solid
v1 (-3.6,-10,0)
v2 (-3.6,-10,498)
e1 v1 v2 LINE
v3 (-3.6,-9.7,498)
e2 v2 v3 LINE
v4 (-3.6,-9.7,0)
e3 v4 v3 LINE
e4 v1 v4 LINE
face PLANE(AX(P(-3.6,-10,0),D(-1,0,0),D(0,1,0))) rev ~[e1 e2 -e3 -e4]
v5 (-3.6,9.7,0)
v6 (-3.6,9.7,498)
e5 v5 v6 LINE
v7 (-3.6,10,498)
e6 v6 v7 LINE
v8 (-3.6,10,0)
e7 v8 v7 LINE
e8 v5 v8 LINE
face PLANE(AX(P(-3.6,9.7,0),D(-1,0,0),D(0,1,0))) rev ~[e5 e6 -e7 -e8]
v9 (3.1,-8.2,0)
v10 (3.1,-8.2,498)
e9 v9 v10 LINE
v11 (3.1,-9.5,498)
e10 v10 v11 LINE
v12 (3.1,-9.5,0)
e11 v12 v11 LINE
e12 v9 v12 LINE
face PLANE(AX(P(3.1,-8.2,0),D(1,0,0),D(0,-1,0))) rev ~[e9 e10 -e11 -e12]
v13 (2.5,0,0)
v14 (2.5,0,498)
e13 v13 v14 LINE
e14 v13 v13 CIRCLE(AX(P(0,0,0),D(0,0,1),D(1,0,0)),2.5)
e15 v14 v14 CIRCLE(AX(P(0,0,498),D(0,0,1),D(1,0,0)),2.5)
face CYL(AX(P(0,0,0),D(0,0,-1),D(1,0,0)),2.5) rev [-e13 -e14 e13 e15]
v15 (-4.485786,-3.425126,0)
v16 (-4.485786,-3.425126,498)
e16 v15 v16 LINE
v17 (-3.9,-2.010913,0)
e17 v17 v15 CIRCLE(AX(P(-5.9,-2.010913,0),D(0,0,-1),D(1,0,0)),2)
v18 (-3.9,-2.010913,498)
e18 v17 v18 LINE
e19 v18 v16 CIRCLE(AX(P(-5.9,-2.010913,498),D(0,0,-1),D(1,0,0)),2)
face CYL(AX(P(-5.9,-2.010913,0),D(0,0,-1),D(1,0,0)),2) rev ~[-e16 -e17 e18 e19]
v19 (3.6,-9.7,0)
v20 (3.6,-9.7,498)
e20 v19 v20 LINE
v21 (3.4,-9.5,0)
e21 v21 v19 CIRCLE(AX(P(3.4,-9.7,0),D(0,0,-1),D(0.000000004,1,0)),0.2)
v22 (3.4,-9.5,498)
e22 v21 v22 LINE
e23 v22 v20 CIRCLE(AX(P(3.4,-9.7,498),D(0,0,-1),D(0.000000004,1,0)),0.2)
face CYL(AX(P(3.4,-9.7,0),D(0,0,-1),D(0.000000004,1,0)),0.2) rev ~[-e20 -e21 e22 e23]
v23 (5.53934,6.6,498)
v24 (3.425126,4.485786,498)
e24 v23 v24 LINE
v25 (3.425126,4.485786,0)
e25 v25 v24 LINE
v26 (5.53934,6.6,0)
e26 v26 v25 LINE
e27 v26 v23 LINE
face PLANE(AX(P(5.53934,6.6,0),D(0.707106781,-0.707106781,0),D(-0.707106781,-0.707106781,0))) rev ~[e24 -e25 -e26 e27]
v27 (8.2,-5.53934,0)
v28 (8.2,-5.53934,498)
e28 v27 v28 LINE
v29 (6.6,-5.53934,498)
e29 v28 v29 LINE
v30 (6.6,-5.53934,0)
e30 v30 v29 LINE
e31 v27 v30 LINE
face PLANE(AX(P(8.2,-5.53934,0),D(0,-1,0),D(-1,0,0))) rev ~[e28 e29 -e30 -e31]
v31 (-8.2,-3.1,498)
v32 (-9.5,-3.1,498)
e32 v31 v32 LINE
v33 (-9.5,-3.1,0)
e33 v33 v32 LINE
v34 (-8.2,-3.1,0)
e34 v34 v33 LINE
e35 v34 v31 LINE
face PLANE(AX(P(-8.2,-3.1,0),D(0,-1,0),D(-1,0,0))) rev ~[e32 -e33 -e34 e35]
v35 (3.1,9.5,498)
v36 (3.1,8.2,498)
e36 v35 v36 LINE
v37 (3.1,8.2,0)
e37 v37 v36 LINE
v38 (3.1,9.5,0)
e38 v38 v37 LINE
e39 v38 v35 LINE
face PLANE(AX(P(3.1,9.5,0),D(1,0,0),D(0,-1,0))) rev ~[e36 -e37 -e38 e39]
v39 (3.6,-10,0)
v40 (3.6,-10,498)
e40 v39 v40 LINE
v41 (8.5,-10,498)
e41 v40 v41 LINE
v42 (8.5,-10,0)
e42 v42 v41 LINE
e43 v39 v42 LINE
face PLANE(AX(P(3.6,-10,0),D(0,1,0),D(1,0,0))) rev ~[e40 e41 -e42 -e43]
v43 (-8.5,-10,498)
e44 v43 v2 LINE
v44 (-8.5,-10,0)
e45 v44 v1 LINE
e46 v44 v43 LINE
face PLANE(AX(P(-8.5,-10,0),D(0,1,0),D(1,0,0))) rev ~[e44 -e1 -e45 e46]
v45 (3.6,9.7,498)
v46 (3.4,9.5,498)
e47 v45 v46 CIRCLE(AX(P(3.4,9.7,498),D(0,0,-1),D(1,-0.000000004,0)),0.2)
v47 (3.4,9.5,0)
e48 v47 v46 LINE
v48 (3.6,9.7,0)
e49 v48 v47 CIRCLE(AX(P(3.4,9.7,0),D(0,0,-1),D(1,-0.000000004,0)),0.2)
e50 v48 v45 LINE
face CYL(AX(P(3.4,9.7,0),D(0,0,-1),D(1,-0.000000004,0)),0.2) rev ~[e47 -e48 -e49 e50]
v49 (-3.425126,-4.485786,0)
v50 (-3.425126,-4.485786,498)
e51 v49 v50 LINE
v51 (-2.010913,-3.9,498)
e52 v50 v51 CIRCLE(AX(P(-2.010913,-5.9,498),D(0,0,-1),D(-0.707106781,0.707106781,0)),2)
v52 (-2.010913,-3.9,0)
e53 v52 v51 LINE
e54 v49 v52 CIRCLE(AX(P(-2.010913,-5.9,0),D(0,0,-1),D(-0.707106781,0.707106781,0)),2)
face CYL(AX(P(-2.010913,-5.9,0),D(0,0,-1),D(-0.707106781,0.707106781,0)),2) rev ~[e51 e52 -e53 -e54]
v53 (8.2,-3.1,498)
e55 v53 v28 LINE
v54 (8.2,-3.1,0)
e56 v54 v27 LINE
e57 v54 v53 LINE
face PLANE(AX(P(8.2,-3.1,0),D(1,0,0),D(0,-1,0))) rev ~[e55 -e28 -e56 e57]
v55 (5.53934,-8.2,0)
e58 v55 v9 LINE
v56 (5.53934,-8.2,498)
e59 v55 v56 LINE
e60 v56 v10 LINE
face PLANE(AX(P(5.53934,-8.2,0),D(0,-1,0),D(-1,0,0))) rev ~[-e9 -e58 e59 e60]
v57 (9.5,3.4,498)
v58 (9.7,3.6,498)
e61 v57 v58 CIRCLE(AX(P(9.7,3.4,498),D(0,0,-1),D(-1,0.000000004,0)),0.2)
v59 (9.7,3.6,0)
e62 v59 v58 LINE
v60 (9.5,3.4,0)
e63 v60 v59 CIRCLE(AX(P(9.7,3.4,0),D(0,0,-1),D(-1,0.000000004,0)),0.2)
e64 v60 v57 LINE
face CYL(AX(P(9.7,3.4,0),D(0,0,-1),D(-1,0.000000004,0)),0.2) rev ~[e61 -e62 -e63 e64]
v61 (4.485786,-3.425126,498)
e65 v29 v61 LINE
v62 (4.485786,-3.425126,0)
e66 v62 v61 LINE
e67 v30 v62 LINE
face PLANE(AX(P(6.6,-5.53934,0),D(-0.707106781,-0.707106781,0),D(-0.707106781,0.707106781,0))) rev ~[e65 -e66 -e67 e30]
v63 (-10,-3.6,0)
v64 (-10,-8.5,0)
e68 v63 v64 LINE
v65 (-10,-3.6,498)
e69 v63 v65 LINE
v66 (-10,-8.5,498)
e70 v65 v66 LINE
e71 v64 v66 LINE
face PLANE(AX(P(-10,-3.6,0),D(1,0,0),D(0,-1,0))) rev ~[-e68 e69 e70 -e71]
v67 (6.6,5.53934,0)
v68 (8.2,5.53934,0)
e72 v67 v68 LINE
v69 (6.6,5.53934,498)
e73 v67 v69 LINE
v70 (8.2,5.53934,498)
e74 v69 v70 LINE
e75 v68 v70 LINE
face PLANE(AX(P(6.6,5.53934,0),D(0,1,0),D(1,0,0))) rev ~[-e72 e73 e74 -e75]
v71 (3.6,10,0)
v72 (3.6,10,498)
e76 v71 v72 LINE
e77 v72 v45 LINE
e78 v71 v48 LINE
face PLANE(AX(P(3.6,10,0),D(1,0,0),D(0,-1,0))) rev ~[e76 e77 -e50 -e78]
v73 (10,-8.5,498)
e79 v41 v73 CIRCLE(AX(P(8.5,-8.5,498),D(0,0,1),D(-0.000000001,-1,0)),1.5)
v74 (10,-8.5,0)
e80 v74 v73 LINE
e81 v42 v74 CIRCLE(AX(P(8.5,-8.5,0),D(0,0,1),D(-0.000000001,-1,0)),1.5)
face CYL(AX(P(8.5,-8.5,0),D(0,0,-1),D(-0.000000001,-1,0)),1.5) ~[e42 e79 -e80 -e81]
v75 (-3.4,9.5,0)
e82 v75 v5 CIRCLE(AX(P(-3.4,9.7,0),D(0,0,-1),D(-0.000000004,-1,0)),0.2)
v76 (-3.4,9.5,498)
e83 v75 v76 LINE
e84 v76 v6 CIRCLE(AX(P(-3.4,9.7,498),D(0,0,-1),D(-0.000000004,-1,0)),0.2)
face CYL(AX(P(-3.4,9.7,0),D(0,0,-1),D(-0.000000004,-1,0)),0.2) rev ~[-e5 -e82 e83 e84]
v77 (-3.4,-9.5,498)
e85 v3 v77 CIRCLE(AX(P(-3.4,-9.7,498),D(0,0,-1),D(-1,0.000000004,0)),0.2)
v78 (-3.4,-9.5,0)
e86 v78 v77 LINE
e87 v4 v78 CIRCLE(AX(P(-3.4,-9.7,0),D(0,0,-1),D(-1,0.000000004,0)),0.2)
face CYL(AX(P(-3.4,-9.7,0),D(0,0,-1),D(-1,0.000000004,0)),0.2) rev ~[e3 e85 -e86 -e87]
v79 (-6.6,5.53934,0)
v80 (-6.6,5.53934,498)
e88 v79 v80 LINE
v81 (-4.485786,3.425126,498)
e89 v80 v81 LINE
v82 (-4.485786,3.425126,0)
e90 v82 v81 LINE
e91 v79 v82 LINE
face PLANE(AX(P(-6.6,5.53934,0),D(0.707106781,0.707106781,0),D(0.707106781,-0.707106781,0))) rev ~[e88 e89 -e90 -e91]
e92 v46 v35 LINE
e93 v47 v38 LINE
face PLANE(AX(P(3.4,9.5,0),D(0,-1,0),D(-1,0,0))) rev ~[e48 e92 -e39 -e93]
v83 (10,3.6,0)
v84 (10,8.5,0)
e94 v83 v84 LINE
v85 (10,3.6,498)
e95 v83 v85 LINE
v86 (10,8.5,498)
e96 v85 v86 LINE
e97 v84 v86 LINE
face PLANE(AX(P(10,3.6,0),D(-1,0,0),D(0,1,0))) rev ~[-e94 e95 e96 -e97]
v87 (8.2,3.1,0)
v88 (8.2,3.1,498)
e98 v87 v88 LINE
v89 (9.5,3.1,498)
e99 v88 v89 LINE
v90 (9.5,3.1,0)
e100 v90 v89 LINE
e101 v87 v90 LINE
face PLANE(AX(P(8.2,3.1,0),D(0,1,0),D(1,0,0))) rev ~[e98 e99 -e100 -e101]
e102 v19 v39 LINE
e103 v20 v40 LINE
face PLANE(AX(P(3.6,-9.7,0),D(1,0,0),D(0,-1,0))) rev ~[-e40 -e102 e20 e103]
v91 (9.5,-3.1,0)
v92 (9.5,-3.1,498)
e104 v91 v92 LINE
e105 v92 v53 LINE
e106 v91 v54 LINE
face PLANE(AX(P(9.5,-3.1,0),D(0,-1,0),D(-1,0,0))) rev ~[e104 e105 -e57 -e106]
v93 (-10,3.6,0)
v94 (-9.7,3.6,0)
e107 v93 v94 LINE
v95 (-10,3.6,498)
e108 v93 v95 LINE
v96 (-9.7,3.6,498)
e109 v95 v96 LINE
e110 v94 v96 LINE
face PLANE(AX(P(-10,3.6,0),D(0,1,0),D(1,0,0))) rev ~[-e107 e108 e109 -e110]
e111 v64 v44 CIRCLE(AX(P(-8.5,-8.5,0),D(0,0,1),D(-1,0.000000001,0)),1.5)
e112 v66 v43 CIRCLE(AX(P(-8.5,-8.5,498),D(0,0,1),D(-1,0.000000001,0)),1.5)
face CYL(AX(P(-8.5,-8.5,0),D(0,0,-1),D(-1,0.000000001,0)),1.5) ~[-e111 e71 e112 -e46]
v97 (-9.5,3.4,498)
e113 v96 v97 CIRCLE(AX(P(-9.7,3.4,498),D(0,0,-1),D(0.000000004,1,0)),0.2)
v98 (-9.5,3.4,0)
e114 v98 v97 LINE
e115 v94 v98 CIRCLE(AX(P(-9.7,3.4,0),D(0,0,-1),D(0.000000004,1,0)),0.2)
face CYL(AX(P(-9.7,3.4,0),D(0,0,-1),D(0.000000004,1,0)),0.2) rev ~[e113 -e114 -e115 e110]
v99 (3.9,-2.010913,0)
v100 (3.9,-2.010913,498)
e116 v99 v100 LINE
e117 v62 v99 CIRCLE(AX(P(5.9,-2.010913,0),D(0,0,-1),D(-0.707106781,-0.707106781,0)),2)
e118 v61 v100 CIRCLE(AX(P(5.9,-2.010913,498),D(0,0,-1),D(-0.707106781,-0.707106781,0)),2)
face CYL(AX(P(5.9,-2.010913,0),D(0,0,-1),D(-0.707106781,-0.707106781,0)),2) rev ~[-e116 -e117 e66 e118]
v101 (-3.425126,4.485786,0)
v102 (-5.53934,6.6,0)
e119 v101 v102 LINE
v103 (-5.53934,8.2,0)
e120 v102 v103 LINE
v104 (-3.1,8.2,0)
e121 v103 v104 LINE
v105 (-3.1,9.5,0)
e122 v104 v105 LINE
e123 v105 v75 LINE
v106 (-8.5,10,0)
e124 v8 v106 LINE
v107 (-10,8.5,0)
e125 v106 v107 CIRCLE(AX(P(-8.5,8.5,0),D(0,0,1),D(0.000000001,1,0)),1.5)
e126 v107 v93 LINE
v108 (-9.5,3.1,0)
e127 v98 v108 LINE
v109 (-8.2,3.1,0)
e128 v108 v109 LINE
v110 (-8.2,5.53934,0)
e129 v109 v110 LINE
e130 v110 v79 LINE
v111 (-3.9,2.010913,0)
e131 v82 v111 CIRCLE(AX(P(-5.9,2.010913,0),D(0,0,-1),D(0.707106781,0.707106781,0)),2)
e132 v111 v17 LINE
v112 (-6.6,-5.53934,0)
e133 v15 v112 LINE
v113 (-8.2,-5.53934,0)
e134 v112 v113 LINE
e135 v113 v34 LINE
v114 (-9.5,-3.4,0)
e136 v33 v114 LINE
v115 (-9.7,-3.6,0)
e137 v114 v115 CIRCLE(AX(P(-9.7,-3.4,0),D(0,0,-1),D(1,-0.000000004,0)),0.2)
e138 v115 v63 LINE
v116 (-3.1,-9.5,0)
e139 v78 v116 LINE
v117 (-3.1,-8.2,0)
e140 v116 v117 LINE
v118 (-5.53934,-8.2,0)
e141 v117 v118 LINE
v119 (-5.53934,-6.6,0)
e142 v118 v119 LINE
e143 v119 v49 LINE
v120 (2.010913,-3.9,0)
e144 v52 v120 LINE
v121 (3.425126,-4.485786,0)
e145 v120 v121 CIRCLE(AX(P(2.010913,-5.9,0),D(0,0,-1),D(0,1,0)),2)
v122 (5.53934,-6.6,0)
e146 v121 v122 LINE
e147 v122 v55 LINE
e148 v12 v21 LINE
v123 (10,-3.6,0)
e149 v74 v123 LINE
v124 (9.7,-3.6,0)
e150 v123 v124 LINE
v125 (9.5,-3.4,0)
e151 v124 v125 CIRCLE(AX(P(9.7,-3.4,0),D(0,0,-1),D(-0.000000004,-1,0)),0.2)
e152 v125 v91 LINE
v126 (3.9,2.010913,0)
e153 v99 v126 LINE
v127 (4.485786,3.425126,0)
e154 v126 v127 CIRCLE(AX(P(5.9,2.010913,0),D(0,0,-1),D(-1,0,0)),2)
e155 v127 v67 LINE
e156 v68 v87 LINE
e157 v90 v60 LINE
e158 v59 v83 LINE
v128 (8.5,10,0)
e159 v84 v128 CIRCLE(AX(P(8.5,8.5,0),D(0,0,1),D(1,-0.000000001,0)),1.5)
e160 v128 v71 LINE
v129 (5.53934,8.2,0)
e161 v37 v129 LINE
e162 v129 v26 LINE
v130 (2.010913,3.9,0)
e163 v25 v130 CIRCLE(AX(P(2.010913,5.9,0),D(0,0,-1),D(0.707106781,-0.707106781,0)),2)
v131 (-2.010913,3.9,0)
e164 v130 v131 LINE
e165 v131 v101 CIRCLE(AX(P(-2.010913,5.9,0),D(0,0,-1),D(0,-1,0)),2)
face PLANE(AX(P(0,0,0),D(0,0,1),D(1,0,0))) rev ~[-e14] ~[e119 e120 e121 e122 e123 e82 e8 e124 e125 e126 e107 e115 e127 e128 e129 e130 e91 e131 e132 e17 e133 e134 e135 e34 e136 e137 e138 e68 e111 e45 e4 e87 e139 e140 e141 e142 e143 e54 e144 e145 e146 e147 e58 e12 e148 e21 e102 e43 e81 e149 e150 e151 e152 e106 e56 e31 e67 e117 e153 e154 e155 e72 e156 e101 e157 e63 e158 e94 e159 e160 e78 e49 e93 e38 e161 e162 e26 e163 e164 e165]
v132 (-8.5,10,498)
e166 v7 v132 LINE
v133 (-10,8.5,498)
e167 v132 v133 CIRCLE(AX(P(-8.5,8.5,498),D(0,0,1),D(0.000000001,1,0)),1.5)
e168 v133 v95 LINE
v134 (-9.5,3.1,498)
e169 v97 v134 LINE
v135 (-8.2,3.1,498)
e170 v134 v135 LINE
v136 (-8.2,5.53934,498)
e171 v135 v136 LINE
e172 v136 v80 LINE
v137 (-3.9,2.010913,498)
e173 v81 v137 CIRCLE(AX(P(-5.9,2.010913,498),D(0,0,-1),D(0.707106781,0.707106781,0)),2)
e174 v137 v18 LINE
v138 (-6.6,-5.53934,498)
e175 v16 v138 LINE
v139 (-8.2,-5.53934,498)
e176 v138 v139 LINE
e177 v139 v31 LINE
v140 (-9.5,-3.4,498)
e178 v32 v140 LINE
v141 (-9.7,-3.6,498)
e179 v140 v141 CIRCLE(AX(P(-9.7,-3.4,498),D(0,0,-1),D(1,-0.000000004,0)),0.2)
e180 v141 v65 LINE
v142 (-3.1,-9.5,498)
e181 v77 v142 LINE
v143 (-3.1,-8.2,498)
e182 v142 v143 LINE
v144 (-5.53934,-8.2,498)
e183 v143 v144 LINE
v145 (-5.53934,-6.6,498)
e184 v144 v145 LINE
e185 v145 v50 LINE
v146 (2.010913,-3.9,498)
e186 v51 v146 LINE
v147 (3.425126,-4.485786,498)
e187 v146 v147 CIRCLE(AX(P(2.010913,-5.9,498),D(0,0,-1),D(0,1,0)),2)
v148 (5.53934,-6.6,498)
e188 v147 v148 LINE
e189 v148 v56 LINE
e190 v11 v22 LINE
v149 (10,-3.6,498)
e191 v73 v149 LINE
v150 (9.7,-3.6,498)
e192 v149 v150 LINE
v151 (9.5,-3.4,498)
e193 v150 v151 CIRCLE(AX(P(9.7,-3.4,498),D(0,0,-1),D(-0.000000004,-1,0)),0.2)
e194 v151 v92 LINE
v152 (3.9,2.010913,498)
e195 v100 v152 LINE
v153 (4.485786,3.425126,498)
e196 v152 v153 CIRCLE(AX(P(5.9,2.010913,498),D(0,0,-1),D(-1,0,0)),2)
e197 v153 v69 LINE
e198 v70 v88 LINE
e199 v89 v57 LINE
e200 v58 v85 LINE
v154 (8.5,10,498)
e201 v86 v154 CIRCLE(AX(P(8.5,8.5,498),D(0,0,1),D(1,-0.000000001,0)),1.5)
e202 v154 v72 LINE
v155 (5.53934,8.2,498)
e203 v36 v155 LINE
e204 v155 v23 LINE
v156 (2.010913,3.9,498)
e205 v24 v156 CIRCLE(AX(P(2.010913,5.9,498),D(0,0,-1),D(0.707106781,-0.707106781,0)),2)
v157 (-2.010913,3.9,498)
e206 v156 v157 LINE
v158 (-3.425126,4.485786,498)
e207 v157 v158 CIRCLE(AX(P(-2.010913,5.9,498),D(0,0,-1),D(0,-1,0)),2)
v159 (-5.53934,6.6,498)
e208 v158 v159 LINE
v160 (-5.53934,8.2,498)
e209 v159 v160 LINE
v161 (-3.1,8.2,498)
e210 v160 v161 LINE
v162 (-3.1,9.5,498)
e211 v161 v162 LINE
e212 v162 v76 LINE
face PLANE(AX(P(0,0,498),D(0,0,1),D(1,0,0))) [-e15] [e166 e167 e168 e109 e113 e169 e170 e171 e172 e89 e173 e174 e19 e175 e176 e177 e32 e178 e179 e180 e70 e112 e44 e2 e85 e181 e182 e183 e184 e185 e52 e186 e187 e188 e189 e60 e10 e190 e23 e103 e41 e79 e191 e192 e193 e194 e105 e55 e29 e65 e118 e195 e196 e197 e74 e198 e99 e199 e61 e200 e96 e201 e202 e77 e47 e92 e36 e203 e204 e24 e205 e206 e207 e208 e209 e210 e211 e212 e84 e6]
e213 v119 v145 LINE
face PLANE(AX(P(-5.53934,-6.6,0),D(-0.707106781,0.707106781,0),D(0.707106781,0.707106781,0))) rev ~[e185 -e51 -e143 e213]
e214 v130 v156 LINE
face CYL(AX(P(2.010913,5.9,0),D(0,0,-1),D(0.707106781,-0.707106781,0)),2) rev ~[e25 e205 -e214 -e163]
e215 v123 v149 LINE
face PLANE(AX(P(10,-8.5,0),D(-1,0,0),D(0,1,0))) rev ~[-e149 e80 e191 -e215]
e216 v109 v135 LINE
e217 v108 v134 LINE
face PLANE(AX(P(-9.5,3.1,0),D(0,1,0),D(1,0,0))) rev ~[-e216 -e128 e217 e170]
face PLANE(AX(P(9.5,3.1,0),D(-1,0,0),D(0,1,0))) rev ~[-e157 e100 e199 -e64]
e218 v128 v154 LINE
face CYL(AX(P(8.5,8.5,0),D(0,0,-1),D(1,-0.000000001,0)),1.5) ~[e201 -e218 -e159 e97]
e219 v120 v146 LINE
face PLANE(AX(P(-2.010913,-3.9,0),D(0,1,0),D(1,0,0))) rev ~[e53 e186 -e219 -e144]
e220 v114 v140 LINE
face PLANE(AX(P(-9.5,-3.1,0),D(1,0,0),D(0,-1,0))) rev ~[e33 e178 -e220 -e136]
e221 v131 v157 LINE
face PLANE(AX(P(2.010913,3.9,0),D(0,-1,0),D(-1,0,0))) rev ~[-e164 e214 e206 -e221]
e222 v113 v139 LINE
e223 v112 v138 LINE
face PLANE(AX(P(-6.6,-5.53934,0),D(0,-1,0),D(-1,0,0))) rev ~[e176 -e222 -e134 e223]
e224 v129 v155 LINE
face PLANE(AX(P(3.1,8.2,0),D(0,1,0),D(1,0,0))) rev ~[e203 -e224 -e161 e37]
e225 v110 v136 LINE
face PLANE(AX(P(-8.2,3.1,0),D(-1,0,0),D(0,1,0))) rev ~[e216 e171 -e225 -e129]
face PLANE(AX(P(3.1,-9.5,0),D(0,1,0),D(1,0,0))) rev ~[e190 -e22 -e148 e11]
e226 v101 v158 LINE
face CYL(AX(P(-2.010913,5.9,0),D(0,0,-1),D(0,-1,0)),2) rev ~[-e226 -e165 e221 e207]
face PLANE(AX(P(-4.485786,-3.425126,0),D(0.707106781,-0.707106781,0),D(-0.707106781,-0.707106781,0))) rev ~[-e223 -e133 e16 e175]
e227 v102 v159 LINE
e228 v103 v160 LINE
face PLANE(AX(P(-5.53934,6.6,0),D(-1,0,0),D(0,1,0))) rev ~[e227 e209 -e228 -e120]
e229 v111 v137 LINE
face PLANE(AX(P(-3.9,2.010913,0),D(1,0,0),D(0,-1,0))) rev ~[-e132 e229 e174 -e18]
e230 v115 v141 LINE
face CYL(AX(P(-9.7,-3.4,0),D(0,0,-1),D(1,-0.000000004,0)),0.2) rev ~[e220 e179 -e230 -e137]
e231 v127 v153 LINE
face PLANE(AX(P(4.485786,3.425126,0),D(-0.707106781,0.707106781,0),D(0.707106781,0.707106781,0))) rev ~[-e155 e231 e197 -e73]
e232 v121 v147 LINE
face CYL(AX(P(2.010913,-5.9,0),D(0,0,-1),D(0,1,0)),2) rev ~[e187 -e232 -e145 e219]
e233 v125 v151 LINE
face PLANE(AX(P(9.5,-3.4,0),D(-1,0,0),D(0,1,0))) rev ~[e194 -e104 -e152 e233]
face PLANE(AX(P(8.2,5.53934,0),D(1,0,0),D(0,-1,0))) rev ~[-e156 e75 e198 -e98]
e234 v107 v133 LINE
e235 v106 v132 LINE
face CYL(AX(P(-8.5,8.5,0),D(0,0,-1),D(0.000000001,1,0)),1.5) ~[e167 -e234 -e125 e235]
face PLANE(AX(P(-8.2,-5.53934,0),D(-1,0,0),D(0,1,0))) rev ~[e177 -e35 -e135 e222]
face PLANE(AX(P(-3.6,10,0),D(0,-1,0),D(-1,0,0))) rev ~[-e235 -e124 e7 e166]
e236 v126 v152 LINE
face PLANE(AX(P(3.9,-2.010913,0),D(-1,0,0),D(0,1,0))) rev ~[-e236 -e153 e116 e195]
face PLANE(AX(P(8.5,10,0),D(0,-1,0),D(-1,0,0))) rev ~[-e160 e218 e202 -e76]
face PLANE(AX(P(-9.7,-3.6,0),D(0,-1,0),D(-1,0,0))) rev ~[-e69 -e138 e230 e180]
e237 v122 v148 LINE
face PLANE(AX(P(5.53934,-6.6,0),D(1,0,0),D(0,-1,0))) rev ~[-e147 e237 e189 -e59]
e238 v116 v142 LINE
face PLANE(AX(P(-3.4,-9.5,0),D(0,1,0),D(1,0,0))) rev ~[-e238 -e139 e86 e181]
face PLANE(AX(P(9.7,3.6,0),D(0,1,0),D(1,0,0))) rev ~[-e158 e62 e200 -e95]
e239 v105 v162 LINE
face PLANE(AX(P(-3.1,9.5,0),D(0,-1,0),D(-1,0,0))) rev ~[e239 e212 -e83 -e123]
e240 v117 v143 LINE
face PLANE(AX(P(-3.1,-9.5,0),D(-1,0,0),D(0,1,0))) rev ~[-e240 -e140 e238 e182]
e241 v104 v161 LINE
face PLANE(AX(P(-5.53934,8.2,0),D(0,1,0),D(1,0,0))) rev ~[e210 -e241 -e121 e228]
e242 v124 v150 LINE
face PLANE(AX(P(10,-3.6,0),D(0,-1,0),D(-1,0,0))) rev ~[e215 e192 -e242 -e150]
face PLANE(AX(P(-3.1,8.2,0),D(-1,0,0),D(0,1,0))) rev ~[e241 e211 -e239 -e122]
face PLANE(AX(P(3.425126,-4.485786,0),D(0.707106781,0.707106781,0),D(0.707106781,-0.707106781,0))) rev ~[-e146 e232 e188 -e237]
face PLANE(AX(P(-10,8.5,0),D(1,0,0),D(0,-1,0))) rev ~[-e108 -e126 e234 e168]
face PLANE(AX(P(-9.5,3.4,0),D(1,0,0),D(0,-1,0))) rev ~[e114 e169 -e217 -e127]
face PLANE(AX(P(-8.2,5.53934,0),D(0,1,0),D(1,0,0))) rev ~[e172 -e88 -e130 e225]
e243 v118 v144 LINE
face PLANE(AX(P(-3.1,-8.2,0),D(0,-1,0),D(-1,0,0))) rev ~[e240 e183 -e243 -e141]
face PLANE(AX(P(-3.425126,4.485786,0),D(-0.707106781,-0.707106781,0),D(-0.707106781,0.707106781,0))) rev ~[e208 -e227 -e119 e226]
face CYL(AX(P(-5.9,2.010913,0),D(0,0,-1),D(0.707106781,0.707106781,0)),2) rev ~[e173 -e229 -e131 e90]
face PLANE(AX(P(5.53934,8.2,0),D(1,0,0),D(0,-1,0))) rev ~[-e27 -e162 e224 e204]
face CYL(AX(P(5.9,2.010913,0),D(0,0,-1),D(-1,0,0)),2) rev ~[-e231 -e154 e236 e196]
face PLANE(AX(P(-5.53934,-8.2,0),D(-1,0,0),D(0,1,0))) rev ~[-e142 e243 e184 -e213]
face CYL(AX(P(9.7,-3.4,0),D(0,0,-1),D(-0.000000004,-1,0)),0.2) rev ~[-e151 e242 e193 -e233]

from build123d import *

# Parameters (mm, degrees)
SKETCH1_R      = 2.5
EXTRUDE1_DEPTH = 498


with BuildPart() as part:
    # Sketch1 → Extrude1 (new body)
    with BuildSketch(Plane.XY):
        with BuildLine():
            Line((0, 3.9), (-2.010912703, 3.9))
            ThreePointArc((-2.010912703, 3.9), (-2.776279568, 4.052240935), (-3.425126266, 4.485786438))
            Line((-3.425126266, 4.485786438), (-5.539339828, 6.6))
            Line((-5.539339828, 6.6), (-5.539339828, 8.2))
            Line((-5.539339828, 8.2), (-3.1, 8.2))
            Line((-3.1, 8.2), (-3.1, 9.5))
            Line((-3.1, 9.5), (-3.4, 9.5))
            ThreePointArc((-3.4, 9.5), (-3.541421356, 9.558578644), (-3.6, 9.7))
            Line((-3.6, 9.7), (-3.6, 10))
            Line((-3.6, 10), (-8.5, 10))
            ThreePointArc((-8.5, 10), (-9.560660172, 9.560660172), (-10, 8.5))
            Line((-10, 8.5), (-10, 3.6))
            Line((-10, 3.6), (-9.7, 3.6))
            ThreePointArc((-9.7, 3.6), (-9.558578644, 3.541421356), (-9.5, 3.4))
            Line((-9.5, 3.4), (-9.5, 3.1))
            Line((-9.5, 3.1), (-8.2, 3.1))
            Line((-8.2, 3.1), (-8.2, 5.539339828))
            Line((-8.2, 5.539339828), (-6.6, 5.539339828))
            Line((-6.6, 5.539339828), (-4.485786438, 3.425126266))
            ThreePointArc((-4.485786438, 3.425126266), (-4.052240935, 2.776279568), (-3.9, 2.010912703))
            Line((-3.9, 2.010912703), (-3.9, 0))
            Line((-3.9, 0), (-3.9, -2.010912703))
            ThreePointArc((-3.9, -2.010912703), (-4.052240935, -2.776279568), (-4.485786438, -3.425126266))
            Line((-4.485786438, -3.425126266), (-6.6, -5.539339828))
            Line((-6.6, -5.539339828), (-8.2, -5.539339828))
            Line((-8.2, -5.539339828), (-8.2, -3.1))
            Line((-8.2, -3.1), (-9.5, -3.1))
            Line((-9.5, -3.1), (-9.5, -3.4))
            ThreePointArc((-9.5, -3.4), (-9.558578644, -3.541421356), (-9.7, -3.6))
            Line((-9.7, -3.6), (-10, -3.6))
            Line((-10, -3.6), (-10, -8.5))
            ThreePointArc((-10, -8.5), (-9.560660172, -9.560660172), (-8.5, -10))
            Line((-8.5, -10), (-3.6, -10))
            Line((-3.6, -10), (-3.6, -9.7))
            ThreePointArc((-3.6, -9.7), (-3.541421356, -9.558578644), (-3.4, -9.5))
            Line((-3.4, -9.5), (-3.1, -9.5))
            Line((-3.1, -9.5), (-3.1, -8.2))
            Line((-3.1, -8.2), (-5.539339828, -8.2))
            Line((-5.539339828, -8.2), (-5.539339828, -6.6))
            Line((-5.539339828, -6.6), (-3.425126266, -4.485786438))
            ThreePointArc((-3.425126266, -4.485786438), (-2.776279568, -4.052240935), (-2.010912703, -3.9))
            Line((-2.010912703, -3.9), (0, -3.9))
            Line((0, -3.9), (2.010912703, -3.9))
            ThreePointArc((2.010912703, -3.9), (2.776279568, -4.052240935), (3.425126266, -4.485786438))
            Line((3.425126266, -4.485786438), (5.539339828, -6.6))
            Line((5.539339828, -6.6), (5.539339828, -8.2))
            Line((5.539339828, -8.2), (3.1, -8.2))
            Line((3.1, -8.2), (3.1, -9.5))
            Line((3.1, -9.5), (3.4, -9.5))
            ThreePointArc((3.4, -9.5), (3.541421356, -9.558578644), (3.6, -9.7))
            Line((3.6, -9.7), (3.6, -10))
            Line((3.6, -10), (8.5, -10))
            ThreePointArc((8.5, -10), (9.560660172, -9.560660172), (10, -8.5))
            Line((10, -8.5), (10, -3.6))
            Line((10, -3.6), (9.7, -3.6))
            ThreePointArc((9.7, -3.6), (9.558578644, -3.541421356), (9.5, -3.4))
            Line((9.5, -3.4), (9.5, -3.1))
            Line((9.5, -3.1), (8.2, -3.1))
            Line((8.2, -3.1), (8.2, -5.539339828))
            Line((8.2, -5.539339828), (6.6, -5.539339828))
            Line((6.6, -5.539339828), (4.485786438, -3.425126266))
            ThreePointArc((4.485786438, -3.425126266), (4.052240935, -2.776279568), (3.9, -2.010912703))
            Line((3.9, -2.010912703), (3.9, 0))
            Line((3.9, 0), (3.9, 2.010912703))
            ThreePointArc((3.9, 2.010912703), (4.052240935, 2.776279568), (4.485786438, 3.425126266))
            Line((4.485786438, 3.425126266), (6.6, 5.539339828))
            Line((6.6, 5.539339828), (8.2, 5.539339828))
            Line((8.2, 5.539339828), (8.2, 3.1))
            Line((8.2, 3.1), (9.5, 3.1))
            Line((9.5, 3.1), (9.5, 3.4))
            ThreePointArc((9.5, 3.4), (9.558578644, 3.541421356), (9.7, 3.6))
            Line((9.7, 3.6), (10, 3.6))
            Line((10, 3.6), (10, 8.5))
            ThreePointArc((10, 8.5), (9.560660172, 9.560660172), (8.5, 10))
            Line((8.5, 10), (3.6, 10))
            Line((3.6, 10), (3.6, 9.7))
            ThreePointArc((3.6, 9.7), (3.541421356, 9.558578644), (3.4, 9.5))
            Line((3.4, 9.5), (3.1, 9.5))
            Line((3.1, 9.5), (3.1, 8.2))
            Line((3.1, 8.2), (5.539339828, 8.2))
            Line((5.539339828, 8.2), (5.539339828, 6.6))
            Line((5.539339828, 6.6), (3.425126266, 4.485786438))
            ThreePointArc((3.425126266, 4.485786438), (2.776279568, 4.052240935), (2.010912703, 3.9))
            Line((2.010912703, 3.9), (0, 3.9))
        make_face()
        Circle(SKETCH1_R, mode=Mode.SUBTRACT)
    extrude(amount=EXTRUDE1_DEPTH)


solid = part.part
